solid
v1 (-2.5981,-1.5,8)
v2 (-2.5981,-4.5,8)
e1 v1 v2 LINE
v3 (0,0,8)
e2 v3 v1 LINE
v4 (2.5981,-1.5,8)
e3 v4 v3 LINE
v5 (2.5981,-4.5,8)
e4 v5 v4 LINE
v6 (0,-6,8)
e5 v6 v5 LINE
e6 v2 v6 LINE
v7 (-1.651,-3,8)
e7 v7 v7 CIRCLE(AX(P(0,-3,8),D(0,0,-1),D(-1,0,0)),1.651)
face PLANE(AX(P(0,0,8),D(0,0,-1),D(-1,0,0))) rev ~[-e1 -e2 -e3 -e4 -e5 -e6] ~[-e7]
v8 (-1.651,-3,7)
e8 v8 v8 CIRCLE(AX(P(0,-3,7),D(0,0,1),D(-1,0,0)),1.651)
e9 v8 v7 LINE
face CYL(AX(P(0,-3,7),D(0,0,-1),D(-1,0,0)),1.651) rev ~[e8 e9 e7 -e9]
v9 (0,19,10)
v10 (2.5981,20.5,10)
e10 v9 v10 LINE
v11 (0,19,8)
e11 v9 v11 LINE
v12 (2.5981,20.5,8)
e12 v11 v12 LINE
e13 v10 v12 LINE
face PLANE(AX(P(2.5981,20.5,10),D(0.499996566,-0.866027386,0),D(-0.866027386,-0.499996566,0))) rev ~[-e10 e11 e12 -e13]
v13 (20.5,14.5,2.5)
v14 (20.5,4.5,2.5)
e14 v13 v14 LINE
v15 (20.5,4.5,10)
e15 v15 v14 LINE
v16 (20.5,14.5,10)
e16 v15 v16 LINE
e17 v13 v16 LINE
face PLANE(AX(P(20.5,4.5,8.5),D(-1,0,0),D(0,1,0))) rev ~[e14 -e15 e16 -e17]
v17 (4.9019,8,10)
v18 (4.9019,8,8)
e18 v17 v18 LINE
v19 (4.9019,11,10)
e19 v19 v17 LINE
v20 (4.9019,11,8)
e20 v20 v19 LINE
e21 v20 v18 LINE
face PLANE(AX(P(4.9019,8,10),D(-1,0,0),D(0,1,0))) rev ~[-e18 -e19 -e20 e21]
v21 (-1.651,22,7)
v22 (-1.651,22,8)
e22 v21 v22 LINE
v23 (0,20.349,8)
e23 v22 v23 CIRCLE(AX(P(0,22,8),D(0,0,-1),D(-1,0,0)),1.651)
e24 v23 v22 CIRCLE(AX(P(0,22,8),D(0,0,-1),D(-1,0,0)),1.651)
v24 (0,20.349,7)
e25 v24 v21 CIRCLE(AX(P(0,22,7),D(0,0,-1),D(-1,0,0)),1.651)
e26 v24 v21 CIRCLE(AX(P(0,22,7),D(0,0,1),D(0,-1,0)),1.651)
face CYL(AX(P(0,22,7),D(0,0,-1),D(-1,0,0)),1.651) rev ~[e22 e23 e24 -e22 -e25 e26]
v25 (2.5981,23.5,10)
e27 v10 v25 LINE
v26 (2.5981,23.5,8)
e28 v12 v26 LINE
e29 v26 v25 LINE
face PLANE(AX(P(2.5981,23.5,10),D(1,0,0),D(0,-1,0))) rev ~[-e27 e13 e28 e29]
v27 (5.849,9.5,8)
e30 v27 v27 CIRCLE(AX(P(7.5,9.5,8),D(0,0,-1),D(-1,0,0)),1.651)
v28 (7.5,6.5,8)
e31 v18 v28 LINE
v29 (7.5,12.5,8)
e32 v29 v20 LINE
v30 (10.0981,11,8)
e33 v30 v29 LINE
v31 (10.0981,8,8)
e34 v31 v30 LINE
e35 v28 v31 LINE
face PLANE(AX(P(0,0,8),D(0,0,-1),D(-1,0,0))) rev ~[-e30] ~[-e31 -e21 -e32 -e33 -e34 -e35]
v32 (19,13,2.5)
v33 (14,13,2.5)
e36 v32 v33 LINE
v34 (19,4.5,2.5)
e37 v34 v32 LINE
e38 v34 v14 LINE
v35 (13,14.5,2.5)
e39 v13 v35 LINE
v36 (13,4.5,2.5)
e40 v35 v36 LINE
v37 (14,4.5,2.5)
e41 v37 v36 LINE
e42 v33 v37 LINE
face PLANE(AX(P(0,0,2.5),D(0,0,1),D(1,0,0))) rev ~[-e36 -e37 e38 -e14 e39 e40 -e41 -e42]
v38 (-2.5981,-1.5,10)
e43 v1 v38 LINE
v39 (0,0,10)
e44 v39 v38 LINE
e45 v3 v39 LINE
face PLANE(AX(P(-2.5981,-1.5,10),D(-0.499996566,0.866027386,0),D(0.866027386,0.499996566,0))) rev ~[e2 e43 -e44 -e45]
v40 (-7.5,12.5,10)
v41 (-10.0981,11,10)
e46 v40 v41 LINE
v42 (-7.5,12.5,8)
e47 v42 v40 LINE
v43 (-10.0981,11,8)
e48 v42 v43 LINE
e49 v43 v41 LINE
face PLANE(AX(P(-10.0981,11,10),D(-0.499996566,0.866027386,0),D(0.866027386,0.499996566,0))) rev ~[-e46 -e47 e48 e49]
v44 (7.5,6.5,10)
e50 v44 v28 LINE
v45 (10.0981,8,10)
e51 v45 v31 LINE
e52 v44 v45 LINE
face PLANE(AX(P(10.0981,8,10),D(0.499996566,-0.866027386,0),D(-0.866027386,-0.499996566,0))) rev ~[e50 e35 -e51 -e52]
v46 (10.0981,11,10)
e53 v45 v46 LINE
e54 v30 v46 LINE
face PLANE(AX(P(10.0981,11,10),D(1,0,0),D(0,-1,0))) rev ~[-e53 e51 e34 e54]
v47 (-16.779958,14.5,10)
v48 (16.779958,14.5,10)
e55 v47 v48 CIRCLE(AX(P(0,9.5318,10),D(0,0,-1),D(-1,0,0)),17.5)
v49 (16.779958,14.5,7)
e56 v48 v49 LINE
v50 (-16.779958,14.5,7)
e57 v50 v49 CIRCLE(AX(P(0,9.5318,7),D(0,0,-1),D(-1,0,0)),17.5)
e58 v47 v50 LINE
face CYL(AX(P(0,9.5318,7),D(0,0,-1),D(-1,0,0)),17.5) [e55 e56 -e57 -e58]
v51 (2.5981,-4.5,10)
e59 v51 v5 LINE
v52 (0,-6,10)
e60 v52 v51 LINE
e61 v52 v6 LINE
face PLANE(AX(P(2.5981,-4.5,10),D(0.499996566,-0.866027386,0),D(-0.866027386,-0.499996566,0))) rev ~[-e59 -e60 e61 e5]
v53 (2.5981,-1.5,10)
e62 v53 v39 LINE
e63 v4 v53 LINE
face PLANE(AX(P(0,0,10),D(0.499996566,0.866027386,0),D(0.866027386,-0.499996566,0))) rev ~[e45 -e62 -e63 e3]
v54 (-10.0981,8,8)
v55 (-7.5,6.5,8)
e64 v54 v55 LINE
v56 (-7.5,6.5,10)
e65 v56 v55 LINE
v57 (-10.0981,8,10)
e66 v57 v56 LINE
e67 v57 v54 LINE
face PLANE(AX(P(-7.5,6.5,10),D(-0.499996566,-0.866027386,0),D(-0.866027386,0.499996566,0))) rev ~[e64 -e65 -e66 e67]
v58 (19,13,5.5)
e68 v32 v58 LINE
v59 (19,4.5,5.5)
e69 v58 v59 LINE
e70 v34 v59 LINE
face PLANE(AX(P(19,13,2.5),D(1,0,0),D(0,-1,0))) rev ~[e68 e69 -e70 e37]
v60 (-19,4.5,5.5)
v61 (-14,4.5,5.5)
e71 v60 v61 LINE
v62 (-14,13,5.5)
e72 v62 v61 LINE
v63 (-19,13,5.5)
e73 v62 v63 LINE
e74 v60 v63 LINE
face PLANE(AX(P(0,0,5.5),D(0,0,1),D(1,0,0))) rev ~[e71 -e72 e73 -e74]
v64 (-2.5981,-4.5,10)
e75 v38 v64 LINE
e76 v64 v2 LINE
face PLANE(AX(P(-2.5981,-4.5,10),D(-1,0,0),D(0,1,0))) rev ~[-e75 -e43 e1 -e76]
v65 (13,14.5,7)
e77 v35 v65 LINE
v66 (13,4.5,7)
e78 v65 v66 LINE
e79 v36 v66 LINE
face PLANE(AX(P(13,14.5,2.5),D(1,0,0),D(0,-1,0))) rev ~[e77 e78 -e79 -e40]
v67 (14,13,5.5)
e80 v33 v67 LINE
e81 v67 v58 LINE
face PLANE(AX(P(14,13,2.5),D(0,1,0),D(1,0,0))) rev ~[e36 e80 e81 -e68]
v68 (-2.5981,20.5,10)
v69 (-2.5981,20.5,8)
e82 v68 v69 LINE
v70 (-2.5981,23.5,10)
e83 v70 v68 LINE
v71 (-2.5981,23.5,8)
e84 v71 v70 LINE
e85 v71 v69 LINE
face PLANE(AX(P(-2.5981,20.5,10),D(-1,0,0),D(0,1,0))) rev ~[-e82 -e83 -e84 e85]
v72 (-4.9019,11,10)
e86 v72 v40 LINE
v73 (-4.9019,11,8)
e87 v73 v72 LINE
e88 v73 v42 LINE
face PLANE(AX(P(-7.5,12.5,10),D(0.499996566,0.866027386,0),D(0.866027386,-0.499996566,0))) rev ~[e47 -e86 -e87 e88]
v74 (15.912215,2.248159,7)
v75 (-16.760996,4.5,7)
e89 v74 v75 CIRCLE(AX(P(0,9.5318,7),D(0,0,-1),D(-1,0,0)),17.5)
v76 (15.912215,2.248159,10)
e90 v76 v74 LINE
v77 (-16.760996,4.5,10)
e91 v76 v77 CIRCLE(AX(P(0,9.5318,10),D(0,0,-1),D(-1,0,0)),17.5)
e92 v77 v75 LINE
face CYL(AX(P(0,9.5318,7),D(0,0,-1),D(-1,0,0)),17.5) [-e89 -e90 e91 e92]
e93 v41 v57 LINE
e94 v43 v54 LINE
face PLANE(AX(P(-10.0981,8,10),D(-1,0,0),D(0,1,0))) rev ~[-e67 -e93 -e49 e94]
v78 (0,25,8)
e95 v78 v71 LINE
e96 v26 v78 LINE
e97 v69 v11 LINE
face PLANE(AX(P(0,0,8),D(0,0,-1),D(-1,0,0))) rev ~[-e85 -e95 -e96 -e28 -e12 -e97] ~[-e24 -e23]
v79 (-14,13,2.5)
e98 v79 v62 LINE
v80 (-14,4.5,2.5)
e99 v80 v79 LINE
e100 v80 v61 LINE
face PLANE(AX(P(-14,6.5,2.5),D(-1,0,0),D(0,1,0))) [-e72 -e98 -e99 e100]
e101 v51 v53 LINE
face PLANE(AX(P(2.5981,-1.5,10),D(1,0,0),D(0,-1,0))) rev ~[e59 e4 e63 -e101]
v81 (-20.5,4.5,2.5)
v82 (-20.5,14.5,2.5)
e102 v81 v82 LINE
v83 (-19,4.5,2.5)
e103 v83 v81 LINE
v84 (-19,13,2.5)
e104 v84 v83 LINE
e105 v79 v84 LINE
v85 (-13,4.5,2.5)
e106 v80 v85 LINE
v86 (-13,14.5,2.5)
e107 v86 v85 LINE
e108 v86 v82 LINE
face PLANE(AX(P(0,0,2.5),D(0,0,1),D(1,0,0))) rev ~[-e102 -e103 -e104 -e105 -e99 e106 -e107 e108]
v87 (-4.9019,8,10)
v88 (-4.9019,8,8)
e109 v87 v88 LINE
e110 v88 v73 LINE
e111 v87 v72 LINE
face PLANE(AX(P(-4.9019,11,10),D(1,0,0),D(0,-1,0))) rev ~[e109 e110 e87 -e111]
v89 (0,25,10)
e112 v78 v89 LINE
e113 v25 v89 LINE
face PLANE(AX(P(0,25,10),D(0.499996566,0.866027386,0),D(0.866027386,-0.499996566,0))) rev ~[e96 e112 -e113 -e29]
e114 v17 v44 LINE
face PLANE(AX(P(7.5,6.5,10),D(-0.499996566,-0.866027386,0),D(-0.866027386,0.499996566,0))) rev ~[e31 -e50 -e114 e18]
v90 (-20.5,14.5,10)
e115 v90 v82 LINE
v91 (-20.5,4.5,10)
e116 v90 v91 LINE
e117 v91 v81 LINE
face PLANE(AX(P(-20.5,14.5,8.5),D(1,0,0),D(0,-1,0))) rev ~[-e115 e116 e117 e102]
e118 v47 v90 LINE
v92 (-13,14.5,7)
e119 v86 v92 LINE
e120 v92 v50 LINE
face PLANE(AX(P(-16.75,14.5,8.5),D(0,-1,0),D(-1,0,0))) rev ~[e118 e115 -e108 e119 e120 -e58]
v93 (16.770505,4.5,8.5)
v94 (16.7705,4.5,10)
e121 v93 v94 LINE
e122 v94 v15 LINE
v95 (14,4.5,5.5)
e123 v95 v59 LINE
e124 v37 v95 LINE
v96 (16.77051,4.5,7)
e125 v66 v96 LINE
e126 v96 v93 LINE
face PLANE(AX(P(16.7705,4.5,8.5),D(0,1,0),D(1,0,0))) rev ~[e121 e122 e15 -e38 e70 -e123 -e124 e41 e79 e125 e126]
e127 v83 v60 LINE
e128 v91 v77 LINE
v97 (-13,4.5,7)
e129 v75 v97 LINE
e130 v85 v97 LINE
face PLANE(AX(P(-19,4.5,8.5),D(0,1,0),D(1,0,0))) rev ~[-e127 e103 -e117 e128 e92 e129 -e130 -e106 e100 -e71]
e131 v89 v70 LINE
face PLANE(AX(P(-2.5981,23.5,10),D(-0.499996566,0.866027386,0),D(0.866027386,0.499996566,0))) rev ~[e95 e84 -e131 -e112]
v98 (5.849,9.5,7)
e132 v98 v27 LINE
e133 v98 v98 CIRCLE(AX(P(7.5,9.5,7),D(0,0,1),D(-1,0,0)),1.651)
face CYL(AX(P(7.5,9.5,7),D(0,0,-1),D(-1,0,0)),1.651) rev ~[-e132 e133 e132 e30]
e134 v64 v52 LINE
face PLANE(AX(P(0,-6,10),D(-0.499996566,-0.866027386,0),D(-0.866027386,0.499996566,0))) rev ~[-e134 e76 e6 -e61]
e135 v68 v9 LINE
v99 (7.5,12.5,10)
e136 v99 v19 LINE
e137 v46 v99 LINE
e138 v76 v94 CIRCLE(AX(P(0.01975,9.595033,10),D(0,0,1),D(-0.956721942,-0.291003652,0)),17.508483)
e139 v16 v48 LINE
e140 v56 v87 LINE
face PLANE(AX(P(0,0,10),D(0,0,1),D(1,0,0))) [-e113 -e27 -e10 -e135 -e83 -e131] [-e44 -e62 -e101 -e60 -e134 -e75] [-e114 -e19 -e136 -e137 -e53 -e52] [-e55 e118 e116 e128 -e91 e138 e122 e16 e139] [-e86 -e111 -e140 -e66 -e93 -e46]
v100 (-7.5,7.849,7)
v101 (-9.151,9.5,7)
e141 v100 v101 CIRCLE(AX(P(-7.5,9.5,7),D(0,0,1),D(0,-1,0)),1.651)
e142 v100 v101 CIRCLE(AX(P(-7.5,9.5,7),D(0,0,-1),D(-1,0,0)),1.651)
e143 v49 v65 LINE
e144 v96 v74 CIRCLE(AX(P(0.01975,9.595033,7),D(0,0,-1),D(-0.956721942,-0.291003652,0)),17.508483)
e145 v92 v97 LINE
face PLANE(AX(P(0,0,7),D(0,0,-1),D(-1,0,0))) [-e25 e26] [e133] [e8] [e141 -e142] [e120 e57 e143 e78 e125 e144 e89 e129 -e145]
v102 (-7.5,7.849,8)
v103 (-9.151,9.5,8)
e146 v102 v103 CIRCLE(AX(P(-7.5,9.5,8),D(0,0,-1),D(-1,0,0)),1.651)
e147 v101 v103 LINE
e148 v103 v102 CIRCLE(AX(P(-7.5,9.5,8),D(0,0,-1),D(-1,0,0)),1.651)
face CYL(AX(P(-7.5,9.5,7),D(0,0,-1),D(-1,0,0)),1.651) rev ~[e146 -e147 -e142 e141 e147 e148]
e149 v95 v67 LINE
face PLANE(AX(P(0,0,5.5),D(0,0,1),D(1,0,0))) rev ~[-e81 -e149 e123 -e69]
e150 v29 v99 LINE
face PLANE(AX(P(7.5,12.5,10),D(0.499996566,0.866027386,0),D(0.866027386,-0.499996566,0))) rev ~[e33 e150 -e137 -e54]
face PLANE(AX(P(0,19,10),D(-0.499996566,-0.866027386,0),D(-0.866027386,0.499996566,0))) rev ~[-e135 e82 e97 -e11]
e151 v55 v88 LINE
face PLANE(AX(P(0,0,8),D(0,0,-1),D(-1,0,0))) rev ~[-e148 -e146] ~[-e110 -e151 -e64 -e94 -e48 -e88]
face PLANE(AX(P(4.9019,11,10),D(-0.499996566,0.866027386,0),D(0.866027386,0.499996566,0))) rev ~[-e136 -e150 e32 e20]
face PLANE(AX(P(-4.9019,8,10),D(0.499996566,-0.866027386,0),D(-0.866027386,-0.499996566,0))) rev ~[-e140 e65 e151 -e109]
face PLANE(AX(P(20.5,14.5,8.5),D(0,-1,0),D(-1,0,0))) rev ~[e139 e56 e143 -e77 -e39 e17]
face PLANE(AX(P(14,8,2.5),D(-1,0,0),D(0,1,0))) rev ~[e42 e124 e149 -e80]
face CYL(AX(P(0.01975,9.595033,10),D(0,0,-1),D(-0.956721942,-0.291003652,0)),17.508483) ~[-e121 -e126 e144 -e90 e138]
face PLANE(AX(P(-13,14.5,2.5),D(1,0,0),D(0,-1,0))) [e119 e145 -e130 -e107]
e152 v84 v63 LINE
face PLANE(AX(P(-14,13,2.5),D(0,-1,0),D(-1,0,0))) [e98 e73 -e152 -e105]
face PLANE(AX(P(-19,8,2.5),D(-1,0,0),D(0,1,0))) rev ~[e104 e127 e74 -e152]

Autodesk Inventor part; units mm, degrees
ref_plane "YZ Plane" through (0, 0, 0) normal (1, 0, 0) x (0, 1, 0)
ref_plane "XZ Plane" through (0, 0, 0) normal (0, 1, 0) x (-1, 0, 0)
ref_plane "XY Plane" through (0, 0, 0) normal (0, 0, 1) x (1, 0, 0)
sketch "Sketch1" plane through (0, 0, 0) normal (0, 0, 1) x (1, 0, 0)
  line L0 (0, 0) -> (4, 0)
  line L1 (4, 0) -> (4, 13)
  line L2 (4, 13) -> (0, 13)
  line L3 (0, 13) -> (0, 0)
  line L4 (4, 13) -> (-4, 13)
  line L5 (-4, 13) -> (-4, -8)
  line L6 (-4, -8) -> (4, -8)
  line L7 (4, -8) -> (4, 13)
  line L8 (-4, 13) -> (4, 13)
  line L9 (4, 13) -> (4, 21)
  line L10 (4, 21) -> (-4, 21)
  line L11 (-4, 21) -> (-4, 13)
  line L12 (4, 21) -> (7, 21)
  line L13 (7, 21) -> (7, 13)
  line L14 (7, 13) -> (4, 13)
  line L15 (4, 13) -> (4, 21)
  line L16 (7, 21) -> (11, 21)
  line L17 (11, 21) -> (11, 13)
  line L18 (11, 13) -> (7, 13)
  line L19 (7, 13) -> (7, 21)
  line L20 (11, 13) -> (4, 13)
  line L21 (4, 13) -> (4, -8)
  line L22 (4, -8) -> (11, -8)
  line L23 (4, -8) -> (11, -8)
  line L24 (11, -8) -> (11, 0)
  line L25 (11, 0) -> (4, 0)
  line L26 (4, 0) -> (4, -8)
  line L27 (11, -8) -> (14, -8)
  line L28 (14, -8) -> (14, 0)
  line L29 (14, 0) -> (11, 0)
  line L30 (11, 0) -> (11, -8)
  line L31 (14, -8) -> (19, -8)
  line L32 (19, -8) -> (19, 13)
  line L33 (19, 13) -> (14, 13)
  line L34 (14, 13) -> (14, -8)
  line L35 (14, 13) -> (22, 13)
  line L36 (14, 18) -> (14, 13)
  line L37 (19, 13) -> (14, 13)
  line L38 (14, 13) -> (14, 21)
  line L39 (14, 21) -> (19, 21)
  line L40 (19, 21) -> (19, 13)
  line L41 (19, -8) -> (-19, -8)
  line L42 (-19, -8) -> (-19, 0)
  line L43 (-19, 0) -> (19, 0)
  line L44 (19, 0) -> (19, -8)
  line L45 (-4, 0) -> (-7, 0)
  line L46 (-7, 0) -> (-7, -8)
  line L47 (-7, -8) -> (-4, -8)
  line L48 (-4, -8) -> (-4, 0)
  line L49 (-7, 0) -> (-11, 0)
  line L50 (-11, 0) -> (-11, -8)
  line L51 (-11, -8) -> (-7, -8)
  line L52 (-7, -8) -> (-7, 0)
  line L53 (-11, -8) -> (-14, -8)
  line L54 (-14, -8) -> (-14, 0)
  line L55 (-14, 0) -> (-11, 0)
  line L56 (-11, 0) -> (-11, -8)
  line L57 (7, 13) -> (11, 13)
  line L58 (11, 13) -> (11, 3)
  line L59 (11, 3) -> (7, 3)
  line L60 (7, 3) -> (7, 13)
  line L61 (-4, 13) -> (-7, 13)
  line L62 (-7, 13) -> (-7, 21)
  line L63 (-7, 21) -> (-4, 21)
  line L64 (-4, 21) -> (-4, 13)
  line L65 (-7, 21) -> (-11, 21)
  line L66 (-11, 21) -> (-11, 13)
  line L67 (-11, 13) -> (-7, 13)
  line L68 (-7, 13) -> (-7, 21)
  line L69 (-7, 13) -> (-11, 13)
  line L70 (-11, 13) -> (-11, 3)
  line L71 (-11, 3) -> (-7, 3)
  line L72 (-7, 3) -> (-7, 13)
  line L73 (-19, -8) -> (-14, -8)
  line L74 (-14, -8) -> (-14, 13)
  line L75 (-14, 13) -> (-19, 13)
  line L76 (-19, 13) -> (-19, -8)
  dimension "d0" = 4
  dimension "d1" = 13
  dimension "d2" = 8
  dimension "d3" = 21
  dimension "d4" = 8
  dimension "d5" = 8
  dimension "d6" = 3
  dimension "d7" = 8
  dimension "d8" = 4
  dimension "d9" = 8
  dimension "d10" = 3
  dimension "d11" = 8
  dimension "d12" = 5
  dimension "d13" = 21
  dimension "d16" = 5
  dimension "d17" = 8
  dimension "d18" = 38
  dimension "d19" = 8
  dimension "d20" = 3
  dimension "d21" = 8
  dimension "d22" = 4
  dimension "d23" = 8
  dimension "d24" = 3
  dimension "d25" = 8
  dimension "d26" = 10
  dimension "d27" = 3
  dimension "d28" = 8
  dimension "d29" = 4
  dimension "d30" = 8
  dimension "d31" = 4
  dimension "d32" = 10
  dimension "d33" = 5
  dimension "d34" = 21
extrude "Extrusion1" add sketch "Sketch1" along normal blind 2.5 contours L3 L2 L1 L0 | L43 L5 L4 L3 | L0 L7 L6 L5 L43 | L25 L24 L22 L7 | L4 L11 L10 L9 L2 | L5 L41 L46 L43 | L9 L12 L13 L14 | L29 L28 L27 L24 | L61 L62 L63 L11 | L46 L41 L50 L43 | L13 L16 L17 L18 | L18 L58 L59 L60 | L43 L32 L31 L28 | L34 L33 L32 L43 | L67 L66 L65 L62 | L72 L71 L70 L67 | L50 L41 L54 L43 | L54 L41 L42 L43 | L43 L76 L75 L74
sketch "Sketch2" plane through (0, 0, 2.5) normal (0, 0, 1) x (1, 0, 0)
  line L0 (-14, 13) -> (-19, 13) projected
  line L1 (-19, 13) -> (-14, 13)
  line L2 (-14, 13) -> (-14, 8)
  line L3 (-14, 8) -> (-19, 8)
  line L4 (-19, 8) -> (-19, 13)
  line L5 (14, 13) -> (19, 13)
  line L6 (19, 13) -> (19, 8)
  line L7 (19, 8) -> (14, 8)
  line L8 (14, 8) -> (14, 13)
  line L9 (-20.5, 6.5) -> (-12.5, 6.5)
  line L10 (-12.5, 6.5) -> (-12.5, 14.5)
  line L11 (-12.5, 14.5) -> (-20.5, 14.5)
  line L12 (-20.5, 14.5) -> (-20.5, 6.5)
  line L13 (12.5, 6.5) -> (20.5, 6.5)
  line L14 (20.5, 6.5) -> (20.5, 14.5)
  line L15 (20.5, 14.5) -> (12.5, 14.5)
  line L16 (12.5, 14.5) -> (12.5, 6.5)
  line L17 (-20.5, 14.5) -> (-19, 14.5)
  line L18 (-19, 14.5) -> (-19, 4.5)
  line L19 (-19, 4.5) -> (-20.5, 4.5)
  line L20 (-20.5, 4.5) -> (-20.5, 14.5)
  line L21 (-14, 0) -> (-14, 13) projected
  line L22 (-12.5, 14.5) -> (-14, 14.5)
  line L23 (-14, 14.5) -> (-14, 4.5)
  line L24 (-14, 4.5) -> (-12.5, 4.5)
  line L25 (-12.5, 4.5) -> (-12.5, 14.5)
  line L26 (-19, 14.5) -> (-14, 14.5)
  line L27 (-14, 14.5) -> (-14, 13)
  line L28 (-14, 13) -> (-19, 13)
  line L29 (-19, 13) -> (-19, 14.5)
  line L30 (12.5, 14.5) -> (20.5, 14.5)
  line L31 (20.5, 14.5) -> (20.5, 13)
  line L32 (20.5, 13) -> (12.5, 13)
  line L33 (12.5, 13) -> (12.5, 14.5)
  line L34 (14, 13) -> (14, 0) projected
  line L35 (12.5, 14.5) -> (14, 14.5)
  line L36 (14, 14.5) -> (14, 4.5)
  line L37 (14, 4.5) -> (12.5, 4.5)
  line L38 (12.5, 4.5) -> (12.5, 14.5)
  line L39 (19, -8) -> (19, 13) projected
  line L40 (20.5, 14.5) -> (19, 14.5)
  line L41 (19, 14.5) -> (19, 4.5)
  line L42 (19, 4.5) -> (20.5, 4.5)
  line L43 (20.5, 4.5) -> (20.5, 14.5)
  point P0 (0, 0)
  dimension "d37" = 5
  dimension "d38" = 5
  dimension "d39" = 5
  dimension "d40" = 5
  dimension "d41" = 1.5
  dimension "d42" = 1.5
  dimension "d43" = 1.5
  dimension "d44" = 10
  dimension "d45" = 10
  dimension "d46" = 10
extrude "Extrusion2" add sketch "Sketch2" along normal blind 3 contours L23 L11 L10 L9 L21 L2 | L0 L18 L11 L23 | L4 L18 L9 L12 L11 | L9 L25 L24 L21 | L18 L19 L20 L9 | L36 L15 L41 L5 | L8 L34 L13 L16 L32 | L32 L16 L15 L36 | L32 L14 L13 L39 L6 | L41 L15 L14 L32 | L34 L37 L38 L13 | L13 L43 L42 L39
sketch "Sketch4" plane through (0, 0, 5.5) normal (0, 0, 1) x (1, 0, 0)
  line L0 (-12.5, 14.5) -> (-20.5, 14.5) projected
  line L1 (-12.5, 4.5) -> (-12.5, 14.5) projected
  line L2 (-20.5, 14.5) -> (-12.5, 14.5)
  line L3 (-12.5, 14.5) -> (-12.5, 4.5)
  line L4 (-12.5, 4.5) -> (-20.5, 4.5)
  line L5 (-20.5, 4.5) -> (-20.5, 14.5)
  line L6 (12.5, 14.5) -> (12.5, 4.5) projected
  line L7 (20.5, 4.5) -> (20.5, 14.5) projected
  line L8 (12.5, 14.5) -> (20.5, 14.5)
  line L9 (20.5, 14.5) -> (20.5, 4.5)
  line L10 (20.5, 4.5) -> (12.5, 4.5)
  line L11 (12.5, 4.5) -> (12.5, 14.5)
  point P0 (0, 0)
extrude "Extrusion3" add sketch "Sketch4" along normal blind 1.5
sketch "Sketch5" plane through (0, 0, 7) normal (0, 0, 1) x (1, 0, 0)
  line L0 (-12.5, 14.5) -> (-20.5, 14.5) projected
  line L1 (20.5, 4.5) -> (20.5, 14.5) projected
  line L2 (-20.5, 14.5) -> (20.5, 14.5)
  line L3 (20.5, 14.5) -> (20.5, 4.5)
  line L4 (20.5, 4.5) -> (-20.5, 4.5)
  line L5 (-20.5, 4.5) -> (-20.5, 14.5)
  line L6 (-20.5, 14.5) -> (-20.5, 4.5) projected
  line L7 (-20.5, 9.5) -> (20.5, 9.5)
  line L8 (0, 9.5) -> (0, 14.5)
  circle A0 centre (0, 9.5) radius 17.5
  point P0 (0, 0)
extrude "Extrusion4" add sketch "Sketch5" along normal blind 1.5
sketch "Sketch6" plane through (0, 0, 8.5) normal (0, 0, 1) x (1, 0, 0)
  arc A0 (16.7705, 14.5) -> (-16.7705, 14.5) centre (0, 9.5) ccw projected
  circle A1 centre (0, 9.5) radius 17.5
  circle A2 centre (0, 9.5) radius 7.5
  circle A3 centre (0, 9.5) radius 12.5
  line L0 (12.5, 14.5) -> (12.5, 4.5) projected
  circle A4 centre (0, 9.5) radius 10
  circle A5 centre (0, -0.5) radius 1.651
  circle A6 centre (0, 2) radius 1.651
  circle A7 centre (7.5, 9.5) radius 1.651
  circle A8 centre (-7.5, 9.5) radius 1.651
  circle A9 centre (0, 17) radius 1.651
  circle A10 centre (0, 22) radius 1.651
  circle A11 centre (0, -3) radius 1.651
  point P0 (0, 0)
  dimension "d54" = 20
  dimension "d53" = 15
  dimension "d55" = 3.302
  dimension "d56" = 3.302
  dimension "d57" = 3.302
  dimension "d58" = 3.302
  dimension "d59" = 3.302
  dimension "d62" = 3.302
  dimension "d63" = 3.302
extrude "Extrusion5" cut sketch "Sketch6" against normal blind 2.5 contours A2 A7 | A2 A7 | A8 A2 | A2 A8 | A11 A5 | A5 A11 A3 | A3 A11 | A10 A3 | A3 A10
sketch "Sketch7" plane through (0, 0, 2.5) normal (0, 0, -1) x (-1, 0, 0)
  line L0 (-36.0395, -19.2499) -> (42.4279, -19.2499)
  line L1 (42.4279, -19.2499) -> (42.4279, 35.743)
  line L2 (42.4279, 35.743) -> (-36.0395, 35.743)
  line L3 (-36.0395, 35.743) -> (-36.0395, -19.2499)
  point P0 (0, 0)
extrude "Extrusion6" cut sketch "Sketch7" along normal blind 2.5
sketch "Sketch8" plane through (0, 0, 2.5) normal (0, 0, -1) x (-1, 0, 0)
  line L0 (-12.5, 14.5) -> (-12.5, 4.5) projected
  line L1 (-12.5, 14.5) -> (-13, 14.5)
  line L2 (-13, 14.5) -> (-13, 4.5)
  line L3 (-13, 4.5) -> (-12.5, 4.5)
  line L4 (-12.5, 4.5) -> (-12.5, 14.5)
  line L5 (12.5, 4.5) -> (12.5, 14.5) projected
  line L6 (12.5, 14.5) -> (13, 14.5)
  line L7 (13, 14.5) -> (13, 4.5)
  line L8 (13, 4.5) -> (12.5, 4.5)
  line L9 (12.5, 4.5) -> (12.5, 14.5)
  point P0 (0, 0)
  dimension "d66" = 0.5
  dimension "d67" = 10
  dimension "d68" = 0.5
  dimension "d69" = 10
extrude "Extrusion7" cut sketch "Sketch8" against normal blind 4.5
sketch "Sketch10" plane through (0, 0, 8.5) normal (0, 0, 1) x (1, 0, 0)
  circle A0 centre (0, 22) radius 1.651 projected
  circle A1 centre (0, 22) radius 1.651
  circle A2 centre (-7.5, 9.5) radius 1.651 projected
  circle A3 centre (-7.5, 9.5) radius 1.651
  circle A4 centre (0, -3) radius 1.651 projected
  circle A5 centre (0, -3) radius 1.651
  circle A6 centre (7.5, 9.5) radius 1.651 projected
  circle A7 centre (7.5, 9.5) radius 1.651
  line L0 (20.5, 14.5) -> (13, 14.5) projected
  line L1 (-13, 14.5) -> (-20.5, 14.5) projected
  arc A8 (16.75, 14.5) -> (-16.75, 14.5) centre (0, 9.5318) ccw
  line L2 (13, 4.5) -> (16.7705, 4.5) projected
  arc A9 (-16.731, 4.5) -> (16.7705, 4.5) centre (0.0198, 9.5951) ccw
  line L3 (-16.75, 14.5) -> (-20.5, 14.5)
  line L4 (-20.5, 4.5) -> (-19, 4.5) projected
  line L5 (-20.5, 14.5) -> (-20.5, 4.5)
  line L6 (-20.5, 4.5) -> (-16.731, 4.5)
  line L7 (16.7705, 4.5) -> (20.5, 4.5)
  line L8 (20.5, 4.5) -> (20.5, 14.5) projected
  line L9 (20.5, 4.5) -> (20.5, 14.5)
  line L10 (20.5, 14.5) -> (16.75, 14.5)
  point P0 (0, 0)
extrude "Extrusion8" add sketch "Sketch10" along normal blind 1.5
sketch "Sketch11" plane through (0, 0, 10) normal (0, 0, 1) x (1, 0, 0)
  circle A0 centre (-7.5, 9.5) radius 1.651 projected
  circle A1 centre (-7.5, 9.5) radius 3
  circle A2 centre (0, 22) radius 1.651 projected
  circle A3 centre (0, 22) radius 3
  circle A4 centre (7.5, 9.5) radius 1.651 projected
  circle A5 centre (7.5, 9.5) radius 3
  circle A6 centre (0, -3) radius 1.651 projected
  circle A7 centre (0, -3) radius 3
  line L0 (-7.5, 12.5) -> (-4.9019, 11)
  line L1 (-4.9019, 11) -> (-4.9019, 8)
  line L2 (-4.9019, 8) -> (-7.5, 6.5)
  line L3 (-7.5, 6.5) -> (-10.0981, 8)
  line L4 (-10.0981, 8) -> (-10.0981, 11)
  line L5 (-10.0981, 11) -> (-7.5, 12.5)
  line L6 (0, 25) -> (2.5981, 23.5)
  line L7 (2.5981, 23.5) -> (2.5981, 20.5)
  line L8 (2.5981, 20.5) -> (0, 19)
  line L9 (0, 19) -> (-2.5981, 20.5)
  line L10 (-2.5981, 20.5) -> (-2.5981, 23.5)
  line L11 (-2.5981, 23.5) -> (0, 25)
  line L12 (0, 0) -> (2.5981, -1.5)
  line L13 (2.5981, -1.5) -> (2.5981, -4.5)
  line L14 (2.5981, -4.5) -> (0, -6)
  line L15 (0, -6) -> (-2.5981, -4.5)
  line L16 (-2.5981, -4.5) -> (-2.5981, -1.5)
  line L17 (-2.5981, -1.5) -> (0, 0)
  line L18 (7.5, 12.5) -> (10.0981, 11)
  line L19 (10.0981, 11) -> (10.0981, 8)
  line L20 (10.0981, 8) -> (7.5, 6.5)
  line L21 (7.5, 6.5) -> (4.9019, 8)
  line L22 (4.9019, 8) -> (4.9019, 11)
  line L23 (4.9019, 11) -> (7.5, 12.5)
  dimension "d74" = 6
  dimension "d75" = 6
  dimension "d76" = 6
  dimension "d77" = 6
extrude "Extrusion9" cut sketch "Sketch11" along normal mid plane 100 contours L1 L2 L3 L4 L5 L0 | L7 L8 L9 L10 L11 L6 | L19 L20 L21 L22 L23 L18 | L13 L14 L15 L16 L17 L12
sketch "Sketch12" plane through (0, 0, 7) normal (0, 0, -1) x (-1, 0, 0)
  line L0 (0, 25) -> (2.5981, 23.5) projected
  line L1 (0, 25) -> (0, 19)
  line L2 (-7.5, 12.5) -> (-4.9019, 11) projected
  line L3 (0, 19) -> (-7.5, 12.5)
  line L4 (-7.5, 6.5) -> (-10.0981, 8) projected
  line L5 (-7.5, 12.5) -> (-7.5, 6.5)
  line L6 (-7.5, 6.5) -> (0, 0)
  line L7 (0, -6) -> (2.5981, -4.5) projected
  line L8 (0, 0) -> (0, -6)
  line L9 (7.5, 6.5) -> (10.0981, 8) projected
  line L10 (0, -6) -> (7.5, 6.5)
  line L11 (4.9019, 11) -> (7.5, 12.5) projected
  line L12 (7.5, 6.5) -> (7.5, 12.5)
  circle A0 centre (-7.5, 9.5) radius 1.651
  circle A1 centre (7.5, 9.5) radius 1.651
  circle A2 centre (0, -3) radius 1.651
  circle A3 centre (0, 22) radius 1.651
  line L13 (-3.75, 25.4224) -> (4.9019, 25.4224)
  line L14 (4.9019, 25.4224) -> (4.9019, 15.75)
  line L15 (4.9019, 15.75) -> (-3.75, 15.75)
  line L16 (-3.75, 15.75) -> (-3.75, 25.4224)
  line L17 (-12.2262, 13.506) -> (11.782, 13.506)
  line L18 (11.782, 13.506) -> (11.782, 3.9308)
  line L19 (11.782, 3.9308) -> (-12.2262, 3.9308)
  line L20 (-12.2262, 3.9308) -> (-12.2262, 13.506)
  line L21 (-4.9019, 1.9209) -> (4.9019, 1.9209)
  line L22 (4.9019, 1.9209) -> (4.9019, -6.5044)
  line L23 (4.9019, -6.5044) -> (-4.9019, -6.5044)
  line L24 (-4.9019, -6.5044) -> (-4.9019, 1.9209)
  dimension "d80" = 3.302
  dimension "d81" = 3.302
  dimension "d82" = 3.302
  dimension "d83" = 3.302
extrude "Extrusion10" add sketch "Sketch12" against normal blind 1 contours L16 L13 L14 L15 | L17 L18 L19 L6 L5 A0 L3 | L3 L5 A0 L6 L19 L20 L17 | L21 L10 A2 L8 L6 | L6 L8 A2 L10 L21 L22 L23 L24 | L10 L8 A2 picked at (0.1214, -5.0871)
sketch "Sketch13" plane through (0, 0, 10) normal (0, 0, 1) x (1, 0, 0)
  line L0 (-16.731, 4.5) -> (-16.7705, 4.5) projected
  line L1 (13, 4.5) -> (16.7705, 4.5) projected
  arc A0 (-16.731, 4.5) -> (16.7705, 4.5) centre (0.0198, 9.5951) ccw
  line L2 (16.75, 14.5) -> (16.7705, 14.5) projected
  line L3 (-16.75, 14.5) -> (-20.5, 14.5) projected
  arc A1 (16.75, 14.5) -> (-16.75, 14.5) centre (0, 9.5318) ccw
  line L4 (16.7705, 4.5) -> (26.5055, 4.5)
  line L5 (26.5055, 4.5) -> (1.8601, -34.0011)
  line L6 (1.8601, -34.0011) -> (-24.8012, -1.8101)
  line L7 (-24.8012, -1.8101) -> (-16.9164, 4.5)
  line L8 (-20.5, 4.5) -> (-16.731, 4.5) projected
  line L9 (-16.731, 4.5) -> (-16.9164, 4.5)
  line L10 (16.75, 14.5) -> (23.8627, 14.5)
  line L11 (23.8627, 14.5) -> (5.8015, 43.4279)
  line L12 (5.8015, 43.4279) -> (-36.4946, 28.9639)
  line L13 (-36.4946, 28.9639) -> (-20.5, 14.5)
  line L14 (-16.75, 14.5) -> (-20.5, 14.5)
  line L15 (-13, 14.5) -> (-16.7705, 14.5) projected
  point P0 (0, 0)
extrude "Extrusion11" cut sketch "Sketch13" along normal mid plane 100
sketch "Sketch14" plane through (0, 0, 7) normal (0, 0, -1) x (-1, 0, 0)
  arc A0 (16.75, 14.5) -> (-16.75, 14.5) centre (0, 9.5318) ccw projected
  circle A1 centre (0, 9.5318) radius 17.5
  circle A2 centre (0, 9.5318) radius 16.5
  point P0 (0, 0)
  dimension "d88" = 35
  dimension "d89" = 33
extrude "Extrusion12" add sketch "Sketch14" against normal blind 3
properties part number "loadCelMount"
